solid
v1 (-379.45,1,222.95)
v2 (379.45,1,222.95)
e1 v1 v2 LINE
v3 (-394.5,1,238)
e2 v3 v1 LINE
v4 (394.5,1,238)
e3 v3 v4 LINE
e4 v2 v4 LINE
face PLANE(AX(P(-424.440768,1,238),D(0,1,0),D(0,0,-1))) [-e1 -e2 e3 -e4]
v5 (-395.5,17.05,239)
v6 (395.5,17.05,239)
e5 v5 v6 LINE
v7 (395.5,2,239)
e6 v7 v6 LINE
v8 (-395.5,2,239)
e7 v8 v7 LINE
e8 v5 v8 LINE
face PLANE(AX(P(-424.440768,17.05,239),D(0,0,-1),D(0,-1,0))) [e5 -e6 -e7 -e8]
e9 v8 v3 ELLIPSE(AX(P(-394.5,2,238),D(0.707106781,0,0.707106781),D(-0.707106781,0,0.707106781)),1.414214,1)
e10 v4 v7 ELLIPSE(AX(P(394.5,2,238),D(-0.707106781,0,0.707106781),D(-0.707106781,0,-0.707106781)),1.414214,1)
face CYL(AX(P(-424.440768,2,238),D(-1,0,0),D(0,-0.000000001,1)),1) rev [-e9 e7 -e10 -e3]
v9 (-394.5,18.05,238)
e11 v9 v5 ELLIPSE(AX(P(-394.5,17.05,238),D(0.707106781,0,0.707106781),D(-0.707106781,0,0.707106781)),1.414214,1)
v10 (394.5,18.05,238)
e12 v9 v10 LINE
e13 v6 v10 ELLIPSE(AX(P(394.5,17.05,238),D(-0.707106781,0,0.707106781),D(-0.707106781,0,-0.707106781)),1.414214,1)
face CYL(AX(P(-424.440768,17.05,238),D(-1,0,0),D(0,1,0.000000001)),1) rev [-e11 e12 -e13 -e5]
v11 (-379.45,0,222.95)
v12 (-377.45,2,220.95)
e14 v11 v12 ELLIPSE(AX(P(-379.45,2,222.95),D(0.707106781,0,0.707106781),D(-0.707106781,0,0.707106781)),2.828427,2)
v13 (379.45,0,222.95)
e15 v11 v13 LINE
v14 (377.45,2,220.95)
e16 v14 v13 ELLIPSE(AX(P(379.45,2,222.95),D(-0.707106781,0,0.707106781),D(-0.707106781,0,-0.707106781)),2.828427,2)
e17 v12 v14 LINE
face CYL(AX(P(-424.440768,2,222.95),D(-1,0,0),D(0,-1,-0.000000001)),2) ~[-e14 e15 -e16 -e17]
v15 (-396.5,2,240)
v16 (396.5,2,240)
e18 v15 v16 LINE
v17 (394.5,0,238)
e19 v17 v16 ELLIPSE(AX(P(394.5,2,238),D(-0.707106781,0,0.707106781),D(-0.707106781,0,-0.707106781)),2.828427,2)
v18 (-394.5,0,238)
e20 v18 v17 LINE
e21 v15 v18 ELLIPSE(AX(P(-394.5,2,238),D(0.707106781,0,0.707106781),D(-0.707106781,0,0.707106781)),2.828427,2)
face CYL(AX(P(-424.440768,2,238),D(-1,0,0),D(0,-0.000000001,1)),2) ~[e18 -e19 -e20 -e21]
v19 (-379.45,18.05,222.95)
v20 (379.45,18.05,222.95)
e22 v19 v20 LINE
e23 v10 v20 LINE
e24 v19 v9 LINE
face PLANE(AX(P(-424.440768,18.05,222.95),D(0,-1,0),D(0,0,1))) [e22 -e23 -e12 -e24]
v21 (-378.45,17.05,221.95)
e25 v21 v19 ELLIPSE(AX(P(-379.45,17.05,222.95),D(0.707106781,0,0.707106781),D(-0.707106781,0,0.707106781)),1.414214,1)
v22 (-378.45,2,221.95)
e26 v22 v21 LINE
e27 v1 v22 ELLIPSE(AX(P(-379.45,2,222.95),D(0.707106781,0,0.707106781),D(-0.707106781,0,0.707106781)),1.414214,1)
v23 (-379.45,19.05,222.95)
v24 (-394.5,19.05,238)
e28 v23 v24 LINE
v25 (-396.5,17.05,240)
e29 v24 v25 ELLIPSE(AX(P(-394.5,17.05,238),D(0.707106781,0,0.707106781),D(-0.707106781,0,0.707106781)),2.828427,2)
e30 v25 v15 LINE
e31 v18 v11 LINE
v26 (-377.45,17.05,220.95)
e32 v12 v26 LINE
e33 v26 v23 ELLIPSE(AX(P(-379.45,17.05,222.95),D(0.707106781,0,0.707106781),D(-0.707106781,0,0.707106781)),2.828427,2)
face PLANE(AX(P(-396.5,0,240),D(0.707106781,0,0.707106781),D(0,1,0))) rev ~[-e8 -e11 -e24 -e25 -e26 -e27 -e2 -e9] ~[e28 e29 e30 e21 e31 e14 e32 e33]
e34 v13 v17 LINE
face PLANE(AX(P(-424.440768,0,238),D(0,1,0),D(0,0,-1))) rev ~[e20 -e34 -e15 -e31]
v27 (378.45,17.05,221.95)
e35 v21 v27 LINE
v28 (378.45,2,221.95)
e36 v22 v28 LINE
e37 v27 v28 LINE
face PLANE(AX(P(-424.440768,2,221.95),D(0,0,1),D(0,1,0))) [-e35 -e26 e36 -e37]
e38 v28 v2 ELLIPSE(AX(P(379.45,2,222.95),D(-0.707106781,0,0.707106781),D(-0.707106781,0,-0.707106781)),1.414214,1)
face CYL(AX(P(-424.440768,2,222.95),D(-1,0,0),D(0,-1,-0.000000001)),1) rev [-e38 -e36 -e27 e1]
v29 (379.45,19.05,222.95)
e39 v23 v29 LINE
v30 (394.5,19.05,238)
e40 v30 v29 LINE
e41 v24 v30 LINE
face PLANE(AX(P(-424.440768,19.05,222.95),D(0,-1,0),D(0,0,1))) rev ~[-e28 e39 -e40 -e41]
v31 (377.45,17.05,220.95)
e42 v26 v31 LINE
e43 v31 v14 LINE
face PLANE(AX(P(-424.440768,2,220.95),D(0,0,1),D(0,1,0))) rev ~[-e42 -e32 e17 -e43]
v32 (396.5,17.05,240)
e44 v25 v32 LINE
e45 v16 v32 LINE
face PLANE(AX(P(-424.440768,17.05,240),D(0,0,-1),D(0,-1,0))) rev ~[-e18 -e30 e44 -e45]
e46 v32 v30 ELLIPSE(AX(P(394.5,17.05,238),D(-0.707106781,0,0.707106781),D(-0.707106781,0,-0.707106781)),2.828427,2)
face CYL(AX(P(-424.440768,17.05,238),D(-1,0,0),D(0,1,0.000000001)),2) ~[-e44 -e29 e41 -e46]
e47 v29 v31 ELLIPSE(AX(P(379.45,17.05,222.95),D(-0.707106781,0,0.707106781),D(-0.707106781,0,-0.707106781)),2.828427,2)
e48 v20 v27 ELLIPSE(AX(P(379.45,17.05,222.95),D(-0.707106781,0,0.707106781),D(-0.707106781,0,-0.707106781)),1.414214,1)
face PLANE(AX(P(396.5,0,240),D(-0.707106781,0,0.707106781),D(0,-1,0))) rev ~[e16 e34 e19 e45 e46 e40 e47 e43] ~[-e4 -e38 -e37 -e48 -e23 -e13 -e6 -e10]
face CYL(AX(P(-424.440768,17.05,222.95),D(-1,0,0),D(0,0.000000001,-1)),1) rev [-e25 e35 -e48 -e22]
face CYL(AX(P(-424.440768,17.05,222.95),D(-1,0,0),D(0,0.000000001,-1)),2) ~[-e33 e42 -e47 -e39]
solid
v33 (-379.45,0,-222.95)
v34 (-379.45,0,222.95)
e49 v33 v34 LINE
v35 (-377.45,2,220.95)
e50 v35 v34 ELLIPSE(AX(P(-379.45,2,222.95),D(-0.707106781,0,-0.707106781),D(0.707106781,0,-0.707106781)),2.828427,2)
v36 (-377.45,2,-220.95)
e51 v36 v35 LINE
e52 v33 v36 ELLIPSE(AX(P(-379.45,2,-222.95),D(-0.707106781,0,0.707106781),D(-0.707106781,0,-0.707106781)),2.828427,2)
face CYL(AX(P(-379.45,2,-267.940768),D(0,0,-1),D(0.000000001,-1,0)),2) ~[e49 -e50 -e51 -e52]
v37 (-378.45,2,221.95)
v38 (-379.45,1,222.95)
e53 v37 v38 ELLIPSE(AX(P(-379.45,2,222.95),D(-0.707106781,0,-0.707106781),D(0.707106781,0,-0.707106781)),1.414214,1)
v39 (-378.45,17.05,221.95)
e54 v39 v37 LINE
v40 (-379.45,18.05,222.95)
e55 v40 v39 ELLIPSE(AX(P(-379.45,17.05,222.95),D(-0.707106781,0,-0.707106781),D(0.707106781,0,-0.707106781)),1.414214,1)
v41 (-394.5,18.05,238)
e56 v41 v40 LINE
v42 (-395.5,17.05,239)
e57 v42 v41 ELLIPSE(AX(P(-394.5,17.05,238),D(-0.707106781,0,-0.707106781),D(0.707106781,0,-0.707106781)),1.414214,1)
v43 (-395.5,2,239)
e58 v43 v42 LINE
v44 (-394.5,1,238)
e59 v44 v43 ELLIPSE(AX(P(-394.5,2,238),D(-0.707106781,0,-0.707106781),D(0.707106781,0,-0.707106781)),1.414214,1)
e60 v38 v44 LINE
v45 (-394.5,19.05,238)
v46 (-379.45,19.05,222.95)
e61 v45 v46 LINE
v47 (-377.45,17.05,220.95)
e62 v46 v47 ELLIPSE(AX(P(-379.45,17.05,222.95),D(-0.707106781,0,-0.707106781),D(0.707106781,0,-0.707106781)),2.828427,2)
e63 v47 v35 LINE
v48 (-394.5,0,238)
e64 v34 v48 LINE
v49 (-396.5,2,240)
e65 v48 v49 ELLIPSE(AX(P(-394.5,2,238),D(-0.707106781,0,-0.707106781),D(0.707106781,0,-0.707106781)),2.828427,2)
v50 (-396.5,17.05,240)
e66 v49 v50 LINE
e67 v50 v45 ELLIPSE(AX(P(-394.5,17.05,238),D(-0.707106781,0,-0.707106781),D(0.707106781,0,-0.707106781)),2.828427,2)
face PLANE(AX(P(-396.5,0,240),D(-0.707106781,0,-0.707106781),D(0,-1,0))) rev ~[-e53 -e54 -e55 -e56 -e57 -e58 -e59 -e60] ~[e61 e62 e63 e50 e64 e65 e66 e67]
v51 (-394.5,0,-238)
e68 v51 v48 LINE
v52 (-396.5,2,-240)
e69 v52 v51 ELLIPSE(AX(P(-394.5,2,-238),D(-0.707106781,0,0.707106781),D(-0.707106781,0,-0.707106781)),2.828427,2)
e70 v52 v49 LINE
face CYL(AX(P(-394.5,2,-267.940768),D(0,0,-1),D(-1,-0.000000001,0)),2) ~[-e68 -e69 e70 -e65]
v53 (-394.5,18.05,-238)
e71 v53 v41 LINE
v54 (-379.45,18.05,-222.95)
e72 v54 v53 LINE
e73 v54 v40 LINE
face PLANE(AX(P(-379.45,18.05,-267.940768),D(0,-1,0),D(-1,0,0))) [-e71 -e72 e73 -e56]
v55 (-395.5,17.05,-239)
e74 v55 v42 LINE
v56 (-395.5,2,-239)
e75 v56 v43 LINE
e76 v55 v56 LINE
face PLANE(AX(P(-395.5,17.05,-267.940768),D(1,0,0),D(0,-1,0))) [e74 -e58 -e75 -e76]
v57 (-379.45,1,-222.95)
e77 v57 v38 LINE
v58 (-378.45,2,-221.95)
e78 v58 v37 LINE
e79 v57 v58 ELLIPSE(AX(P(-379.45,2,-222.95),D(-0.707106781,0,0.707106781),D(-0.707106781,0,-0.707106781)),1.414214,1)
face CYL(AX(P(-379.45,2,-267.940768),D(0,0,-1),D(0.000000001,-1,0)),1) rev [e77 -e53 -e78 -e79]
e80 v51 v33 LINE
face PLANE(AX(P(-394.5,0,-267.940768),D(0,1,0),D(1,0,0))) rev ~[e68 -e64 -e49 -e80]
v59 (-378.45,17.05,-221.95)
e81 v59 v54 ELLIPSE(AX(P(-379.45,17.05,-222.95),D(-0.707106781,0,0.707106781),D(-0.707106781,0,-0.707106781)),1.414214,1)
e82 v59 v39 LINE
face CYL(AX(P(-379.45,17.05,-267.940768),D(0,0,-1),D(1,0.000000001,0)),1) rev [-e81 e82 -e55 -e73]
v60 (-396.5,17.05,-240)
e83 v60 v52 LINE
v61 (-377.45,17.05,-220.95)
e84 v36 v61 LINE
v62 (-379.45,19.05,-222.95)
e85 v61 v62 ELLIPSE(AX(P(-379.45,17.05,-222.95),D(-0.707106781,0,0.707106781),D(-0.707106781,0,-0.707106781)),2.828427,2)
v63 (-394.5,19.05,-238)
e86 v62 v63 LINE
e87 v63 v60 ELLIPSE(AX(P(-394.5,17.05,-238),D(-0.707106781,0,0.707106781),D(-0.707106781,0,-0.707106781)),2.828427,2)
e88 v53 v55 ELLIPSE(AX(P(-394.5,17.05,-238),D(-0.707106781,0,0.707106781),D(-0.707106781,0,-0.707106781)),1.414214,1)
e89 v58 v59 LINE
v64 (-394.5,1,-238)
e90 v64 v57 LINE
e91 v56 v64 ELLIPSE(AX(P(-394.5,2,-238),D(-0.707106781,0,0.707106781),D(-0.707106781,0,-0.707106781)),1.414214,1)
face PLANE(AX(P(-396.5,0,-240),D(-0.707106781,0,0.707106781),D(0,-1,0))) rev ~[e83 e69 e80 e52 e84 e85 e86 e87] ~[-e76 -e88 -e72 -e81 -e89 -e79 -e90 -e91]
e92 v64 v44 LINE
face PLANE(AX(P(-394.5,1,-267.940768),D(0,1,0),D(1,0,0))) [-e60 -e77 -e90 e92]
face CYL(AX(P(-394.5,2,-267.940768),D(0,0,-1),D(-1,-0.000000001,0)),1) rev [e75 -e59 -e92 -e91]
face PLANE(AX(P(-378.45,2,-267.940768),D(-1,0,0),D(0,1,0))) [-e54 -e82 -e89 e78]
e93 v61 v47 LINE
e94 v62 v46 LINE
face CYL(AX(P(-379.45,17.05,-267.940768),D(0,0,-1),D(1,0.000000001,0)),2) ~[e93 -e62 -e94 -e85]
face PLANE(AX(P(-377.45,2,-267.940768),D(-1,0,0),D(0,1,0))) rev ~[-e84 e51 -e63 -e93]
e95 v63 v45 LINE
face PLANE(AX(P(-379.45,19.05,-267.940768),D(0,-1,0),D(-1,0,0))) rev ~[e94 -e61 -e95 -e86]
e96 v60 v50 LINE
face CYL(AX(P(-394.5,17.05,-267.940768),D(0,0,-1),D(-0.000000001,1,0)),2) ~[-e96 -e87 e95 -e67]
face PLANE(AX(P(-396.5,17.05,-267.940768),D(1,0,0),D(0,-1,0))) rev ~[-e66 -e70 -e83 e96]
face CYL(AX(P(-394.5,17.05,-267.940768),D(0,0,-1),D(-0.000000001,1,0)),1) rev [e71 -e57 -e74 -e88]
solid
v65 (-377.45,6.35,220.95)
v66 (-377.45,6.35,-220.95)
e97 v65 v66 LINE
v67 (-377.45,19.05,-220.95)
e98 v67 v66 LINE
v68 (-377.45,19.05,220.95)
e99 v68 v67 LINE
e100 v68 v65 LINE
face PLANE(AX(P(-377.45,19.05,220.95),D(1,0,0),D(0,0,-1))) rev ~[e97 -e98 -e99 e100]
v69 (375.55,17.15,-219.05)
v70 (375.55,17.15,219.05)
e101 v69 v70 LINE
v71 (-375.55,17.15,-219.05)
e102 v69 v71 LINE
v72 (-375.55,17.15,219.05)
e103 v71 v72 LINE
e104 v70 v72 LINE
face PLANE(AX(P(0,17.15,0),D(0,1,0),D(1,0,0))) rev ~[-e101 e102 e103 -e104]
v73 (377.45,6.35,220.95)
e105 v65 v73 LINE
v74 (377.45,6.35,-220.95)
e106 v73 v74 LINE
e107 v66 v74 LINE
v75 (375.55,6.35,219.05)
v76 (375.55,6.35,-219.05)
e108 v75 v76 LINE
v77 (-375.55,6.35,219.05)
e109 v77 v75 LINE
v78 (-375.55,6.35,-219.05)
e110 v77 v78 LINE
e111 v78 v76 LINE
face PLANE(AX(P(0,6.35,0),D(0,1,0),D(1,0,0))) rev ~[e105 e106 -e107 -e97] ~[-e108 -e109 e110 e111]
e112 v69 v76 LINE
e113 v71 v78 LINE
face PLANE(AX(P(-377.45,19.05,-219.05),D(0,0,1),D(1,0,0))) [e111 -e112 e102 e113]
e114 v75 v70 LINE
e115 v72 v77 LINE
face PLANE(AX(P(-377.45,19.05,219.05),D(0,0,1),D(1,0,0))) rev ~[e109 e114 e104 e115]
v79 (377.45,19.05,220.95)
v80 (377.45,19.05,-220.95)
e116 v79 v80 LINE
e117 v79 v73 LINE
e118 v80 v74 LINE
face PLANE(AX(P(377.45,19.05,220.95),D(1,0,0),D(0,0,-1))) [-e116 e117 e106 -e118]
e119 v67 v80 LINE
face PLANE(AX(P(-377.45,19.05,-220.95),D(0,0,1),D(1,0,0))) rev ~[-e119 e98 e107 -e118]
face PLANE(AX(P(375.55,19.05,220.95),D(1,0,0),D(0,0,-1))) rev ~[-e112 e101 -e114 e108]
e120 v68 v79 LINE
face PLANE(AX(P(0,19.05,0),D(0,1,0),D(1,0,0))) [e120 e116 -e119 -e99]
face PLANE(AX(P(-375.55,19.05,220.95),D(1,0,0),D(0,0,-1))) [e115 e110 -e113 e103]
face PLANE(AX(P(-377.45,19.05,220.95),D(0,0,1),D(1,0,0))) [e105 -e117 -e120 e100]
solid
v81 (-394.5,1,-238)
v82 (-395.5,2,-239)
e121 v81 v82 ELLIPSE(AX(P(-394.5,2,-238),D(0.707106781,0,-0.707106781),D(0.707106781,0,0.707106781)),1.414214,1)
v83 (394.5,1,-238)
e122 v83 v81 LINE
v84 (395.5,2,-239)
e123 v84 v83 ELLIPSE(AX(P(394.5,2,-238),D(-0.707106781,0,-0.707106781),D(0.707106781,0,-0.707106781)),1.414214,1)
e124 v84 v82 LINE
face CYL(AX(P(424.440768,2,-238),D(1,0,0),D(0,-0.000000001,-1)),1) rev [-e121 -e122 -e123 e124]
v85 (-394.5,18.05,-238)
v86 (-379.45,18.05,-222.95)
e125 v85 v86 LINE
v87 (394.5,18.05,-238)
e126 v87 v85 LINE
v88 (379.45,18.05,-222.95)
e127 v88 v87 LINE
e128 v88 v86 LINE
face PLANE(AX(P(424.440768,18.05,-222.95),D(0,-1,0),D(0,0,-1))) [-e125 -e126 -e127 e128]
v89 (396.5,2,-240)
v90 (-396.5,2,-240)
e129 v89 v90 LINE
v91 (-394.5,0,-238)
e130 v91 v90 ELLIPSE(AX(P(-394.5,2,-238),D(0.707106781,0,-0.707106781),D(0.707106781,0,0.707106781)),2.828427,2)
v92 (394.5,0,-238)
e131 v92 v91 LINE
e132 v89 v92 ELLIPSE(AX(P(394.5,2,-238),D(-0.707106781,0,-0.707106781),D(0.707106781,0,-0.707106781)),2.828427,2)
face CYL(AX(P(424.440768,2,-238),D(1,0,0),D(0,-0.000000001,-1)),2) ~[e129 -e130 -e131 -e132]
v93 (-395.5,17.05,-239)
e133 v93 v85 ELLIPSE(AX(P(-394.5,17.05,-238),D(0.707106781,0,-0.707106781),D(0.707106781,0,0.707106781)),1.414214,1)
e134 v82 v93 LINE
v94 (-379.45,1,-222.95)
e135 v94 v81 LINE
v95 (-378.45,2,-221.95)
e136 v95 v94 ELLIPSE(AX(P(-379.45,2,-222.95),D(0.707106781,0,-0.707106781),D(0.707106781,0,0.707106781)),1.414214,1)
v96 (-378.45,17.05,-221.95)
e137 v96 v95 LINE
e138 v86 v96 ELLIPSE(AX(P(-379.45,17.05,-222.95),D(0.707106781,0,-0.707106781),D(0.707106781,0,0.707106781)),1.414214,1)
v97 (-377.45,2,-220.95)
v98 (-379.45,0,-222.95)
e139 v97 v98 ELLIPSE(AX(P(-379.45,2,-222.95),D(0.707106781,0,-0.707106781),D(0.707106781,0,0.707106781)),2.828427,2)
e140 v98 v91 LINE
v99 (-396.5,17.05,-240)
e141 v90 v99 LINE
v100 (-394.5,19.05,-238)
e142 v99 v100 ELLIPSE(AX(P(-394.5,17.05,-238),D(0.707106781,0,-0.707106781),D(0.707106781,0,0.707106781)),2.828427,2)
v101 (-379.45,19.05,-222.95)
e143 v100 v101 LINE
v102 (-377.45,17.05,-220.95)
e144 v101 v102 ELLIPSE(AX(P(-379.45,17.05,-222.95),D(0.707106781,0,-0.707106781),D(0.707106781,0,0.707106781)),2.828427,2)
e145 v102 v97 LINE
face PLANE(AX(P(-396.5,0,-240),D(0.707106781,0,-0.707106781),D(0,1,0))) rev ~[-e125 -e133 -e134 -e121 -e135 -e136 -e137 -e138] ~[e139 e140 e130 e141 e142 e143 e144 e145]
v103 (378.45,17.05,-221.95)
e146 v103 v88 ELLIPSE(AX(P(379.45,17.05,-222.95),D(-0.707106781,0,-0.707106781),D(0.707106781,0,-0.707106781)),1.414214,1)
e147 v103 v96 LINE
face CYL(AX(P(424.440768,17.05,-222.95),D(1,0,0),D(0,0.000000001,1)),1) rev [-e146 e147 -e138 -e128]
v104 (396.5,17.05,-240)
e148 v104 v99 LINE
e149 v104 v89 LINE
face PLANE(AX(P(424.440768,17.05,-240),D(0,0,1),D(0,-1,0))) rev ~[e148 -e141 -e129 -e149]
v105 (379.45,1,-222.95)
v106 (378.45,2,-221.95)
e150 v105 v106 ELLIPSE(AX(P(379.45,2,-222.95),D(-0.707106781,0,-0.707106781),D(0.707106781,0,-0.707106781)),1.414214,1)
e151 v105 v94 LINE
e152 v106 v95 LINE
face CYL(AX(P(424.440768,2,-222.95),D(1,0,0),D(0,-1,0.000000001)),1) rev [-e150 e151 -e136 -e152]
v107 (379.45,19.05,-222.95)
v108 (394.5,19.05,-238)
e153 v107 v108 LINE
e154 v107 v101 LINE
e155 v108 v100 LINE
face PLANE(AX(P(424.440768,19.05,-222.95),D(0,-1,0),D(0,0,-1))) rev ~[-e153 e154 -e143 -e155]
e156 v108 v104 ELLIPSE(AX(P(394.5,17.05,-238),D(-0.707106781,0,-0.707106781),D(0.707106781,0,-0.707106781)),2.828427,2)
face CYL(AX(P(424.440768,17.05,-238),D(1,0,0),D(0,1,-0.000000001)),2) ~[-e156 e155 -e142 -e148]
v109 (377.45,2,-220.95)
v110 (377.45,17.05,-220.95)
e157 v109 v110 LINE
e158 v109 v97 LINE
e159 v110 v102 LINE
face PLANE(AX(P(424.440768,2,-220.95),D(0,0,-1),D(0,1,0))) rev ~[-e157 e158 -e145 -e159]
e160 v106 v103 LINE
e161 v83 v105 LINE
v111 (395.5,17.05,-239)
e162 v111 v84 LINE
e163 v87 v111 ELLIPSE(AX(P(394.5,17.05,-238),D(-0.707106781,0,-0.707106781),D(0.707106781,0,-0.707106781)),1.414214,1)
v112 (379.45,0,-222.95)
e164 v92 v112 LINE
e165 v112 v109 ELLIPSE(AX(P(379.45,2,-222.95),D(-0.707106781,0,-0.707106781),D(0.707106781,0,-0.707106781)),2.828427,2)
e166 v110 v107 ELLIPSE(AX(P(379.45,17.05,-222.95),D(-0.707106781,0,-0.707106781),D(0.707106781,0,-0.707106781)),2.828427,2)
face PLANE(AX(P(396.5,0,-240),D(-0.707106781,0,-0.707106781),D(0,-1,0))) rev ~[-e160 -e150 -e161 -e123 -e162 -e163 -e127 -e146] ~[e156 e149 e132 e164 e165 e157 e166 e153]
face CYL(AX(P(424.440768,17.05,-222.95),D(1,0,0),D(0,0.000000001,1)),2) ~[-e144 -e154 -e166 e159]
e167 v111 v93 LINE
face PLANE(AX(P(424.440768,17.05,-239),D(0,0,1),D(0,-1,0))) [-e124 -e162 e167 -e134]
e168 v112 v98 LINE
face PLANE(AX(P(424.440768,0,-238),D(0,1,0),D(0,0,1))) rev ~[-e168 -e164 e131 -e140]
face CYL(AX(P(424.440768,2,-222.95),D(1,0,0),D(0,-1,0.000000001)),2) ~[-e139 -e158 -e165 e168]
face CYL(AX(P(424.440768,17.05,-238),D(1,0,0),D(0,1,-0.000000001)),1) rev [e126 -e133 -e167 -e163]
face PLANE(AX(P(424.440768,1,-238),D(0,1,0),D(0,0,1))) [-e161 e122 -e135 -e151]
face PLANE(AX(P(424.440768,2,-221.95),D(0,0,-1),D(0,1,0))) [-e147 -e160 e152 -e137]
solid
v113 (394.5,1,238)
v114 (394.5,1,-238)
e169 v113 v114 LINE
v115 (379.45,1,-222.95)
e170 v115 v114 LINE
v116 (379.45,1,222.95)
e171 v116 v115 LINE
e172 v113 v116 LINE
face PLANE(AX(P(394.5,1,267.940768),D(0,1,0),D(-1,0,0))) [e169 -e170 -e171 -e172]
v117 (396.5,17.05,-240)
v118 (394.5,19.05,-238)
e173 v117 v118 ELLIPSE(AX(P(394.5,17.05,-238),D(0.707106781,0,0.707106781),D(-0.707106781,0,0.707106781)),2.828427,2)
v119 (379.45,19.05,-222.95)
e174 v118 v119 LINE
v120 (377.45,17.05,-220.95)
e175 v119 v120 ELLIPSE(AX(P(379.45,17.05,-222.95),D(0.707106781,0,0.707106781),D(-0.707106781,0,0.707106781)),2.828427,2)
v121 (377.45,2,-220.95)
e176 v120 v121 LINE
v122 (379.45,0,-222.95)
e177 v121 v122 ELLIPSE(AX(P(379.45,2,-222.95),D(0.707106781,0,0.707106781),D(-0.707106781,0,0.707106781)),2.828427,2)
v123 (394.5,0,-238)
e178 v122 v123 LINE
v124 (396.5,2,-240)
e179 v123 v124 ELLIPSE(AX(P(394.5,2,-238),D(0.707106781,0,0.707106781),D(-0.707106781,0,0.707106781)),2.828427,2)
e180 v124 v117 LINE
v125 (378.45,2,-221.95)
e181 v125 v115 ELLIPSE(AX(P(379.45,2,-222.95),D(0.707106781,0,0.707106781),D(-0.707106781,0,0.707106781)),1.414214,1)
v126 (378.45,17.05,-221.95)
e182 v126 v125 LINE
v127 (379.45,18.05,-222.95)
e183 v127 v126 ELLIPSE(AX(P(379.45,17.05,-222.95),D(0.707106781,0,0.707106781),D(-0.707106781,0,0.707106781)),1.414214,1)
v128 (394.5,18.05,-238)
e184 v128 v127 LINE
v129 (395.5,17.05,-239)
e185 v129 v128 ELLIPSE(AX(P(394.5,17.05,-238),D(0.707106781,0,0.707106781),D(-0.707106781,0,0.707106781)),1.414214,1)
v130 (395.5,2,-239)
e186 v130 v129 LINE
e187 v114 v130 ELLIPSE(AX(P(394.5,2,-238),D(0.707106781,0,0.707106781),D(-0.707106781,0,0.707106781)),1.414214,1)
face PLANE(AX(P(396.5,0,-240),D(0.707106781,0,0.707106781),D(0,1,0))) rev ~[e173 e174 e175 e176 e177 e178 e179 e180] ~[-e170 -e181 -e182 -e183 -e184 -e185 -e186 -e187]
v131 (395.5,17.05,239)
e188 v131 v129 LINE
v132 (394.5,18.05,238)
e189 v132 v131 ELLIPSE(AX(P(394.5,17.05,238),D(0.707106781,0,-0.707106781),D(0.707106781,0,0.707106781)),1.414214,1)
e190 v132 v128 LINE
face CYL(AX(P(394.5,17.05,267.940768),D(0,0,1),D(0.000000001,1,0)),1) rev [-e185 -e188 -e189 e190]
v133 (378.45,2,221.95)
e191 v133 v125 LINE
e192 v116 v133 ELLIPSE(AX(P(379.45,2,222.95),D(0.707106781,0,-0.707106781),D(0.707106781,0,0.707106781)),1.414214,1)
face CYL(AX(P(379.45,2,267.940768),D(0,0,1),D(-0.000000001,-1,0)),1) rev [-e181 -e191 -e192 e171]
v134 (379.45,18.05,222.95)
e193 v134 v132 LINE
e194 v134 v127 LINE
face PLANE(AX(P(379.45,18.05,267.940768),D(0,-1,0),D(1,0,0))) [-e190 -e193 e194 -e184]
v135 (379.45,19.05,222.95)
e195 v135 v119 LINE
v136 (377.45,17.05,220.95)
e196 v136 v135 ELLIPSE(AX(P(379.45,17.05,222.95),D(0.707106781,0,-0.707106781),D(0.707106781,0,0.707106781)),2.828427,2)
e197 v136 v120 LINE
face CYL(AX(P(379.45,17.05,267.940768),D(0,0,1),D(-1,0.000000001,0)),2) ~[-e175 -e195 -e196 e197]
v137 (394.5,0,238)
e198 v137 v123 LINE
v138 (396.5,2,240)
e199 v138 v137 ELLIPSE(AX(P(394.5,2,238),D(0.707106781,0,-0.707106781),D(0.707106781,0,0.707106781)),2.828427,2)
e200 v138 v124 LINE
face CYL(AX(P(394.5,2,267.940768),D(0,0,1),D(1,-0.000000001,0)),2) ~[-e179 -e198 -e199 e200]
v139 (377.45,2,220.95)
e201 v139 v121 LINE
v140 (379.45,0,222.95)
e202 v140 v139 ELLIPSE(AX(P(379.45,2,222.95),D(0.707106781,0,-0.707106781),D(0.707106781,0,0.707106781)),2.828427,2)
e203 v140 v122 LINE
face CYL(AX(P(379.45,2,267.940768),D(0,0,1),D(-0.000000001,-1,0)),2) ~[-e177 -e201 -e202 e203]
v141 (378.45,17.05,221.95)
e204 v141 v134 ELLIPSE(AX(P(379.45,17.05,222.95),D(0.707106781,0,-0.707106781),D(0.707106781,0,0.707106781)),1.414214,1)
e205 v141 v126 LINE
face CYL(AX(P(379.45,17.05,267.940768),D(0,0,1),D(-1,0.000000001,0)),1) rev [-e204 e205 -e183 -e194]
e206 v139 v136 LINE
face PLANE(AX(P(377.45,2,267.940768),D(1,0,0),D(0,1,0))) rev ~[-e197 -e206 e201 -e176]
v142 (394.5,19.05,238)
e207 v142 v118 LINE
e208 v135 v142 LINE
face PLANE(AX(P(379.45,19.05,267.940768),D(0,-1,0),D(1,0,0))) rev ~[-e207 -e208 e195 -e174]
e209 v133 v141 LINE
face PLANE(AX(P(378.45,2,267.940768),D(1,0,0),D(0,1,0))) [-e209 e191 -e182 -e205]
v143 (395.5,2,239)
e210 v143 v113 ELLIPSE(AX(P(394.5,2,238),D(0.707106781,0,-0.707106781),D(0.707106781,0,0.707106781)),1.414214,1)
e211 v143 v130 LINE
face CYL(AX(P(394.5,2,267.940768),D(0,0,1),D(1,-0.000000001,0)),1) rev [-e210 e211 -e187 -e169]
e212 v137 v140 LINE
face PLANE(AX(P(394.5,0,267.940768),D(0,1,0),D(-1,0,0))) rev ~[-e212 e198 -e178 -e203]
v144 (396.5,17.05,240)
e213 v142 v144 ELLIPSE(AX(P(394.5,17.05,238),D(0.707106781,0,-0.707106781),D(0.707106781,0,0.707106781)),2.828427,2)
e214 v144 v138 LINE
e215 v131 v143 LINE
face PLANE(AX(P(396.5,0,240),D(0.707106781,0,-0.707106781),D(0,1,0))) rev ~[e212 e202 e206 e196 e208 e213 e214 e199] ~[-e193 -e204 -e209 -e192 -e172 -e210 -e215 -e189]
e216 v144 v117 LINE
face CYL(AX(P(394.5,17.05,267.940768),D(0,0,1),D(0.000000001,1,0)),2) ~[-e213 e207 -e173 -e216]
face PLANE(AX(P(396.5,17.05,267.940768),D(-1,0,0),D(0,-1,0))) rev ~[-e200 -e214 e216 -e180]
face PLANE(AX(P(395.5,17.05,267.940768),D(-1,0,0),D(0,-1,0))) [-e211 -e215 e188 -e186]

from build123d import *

# Parameters (mm, degrees)
TUBO_CUADRADO_2_X_2_X_0_25_1_DEPTH      = 507.940768363
TUBO_CUADRADO_2_X_2_X_0_25_1_DEPTH_BACK = 27.940768363
TUBO_CUADRADO_2_X_2_X_0_25_1_2_DEPTH    = 848.881536726
TUBO_CUADRADO_2_X_2_X_0_25_1_3_DEPTH    = 535.881536726
TUBO_CUADRADO_2_X_2_X_0_25_1_4_DEPTH    = 848.881536726
CROQUIS2_W                              = 754.9
CROQUIS2_H                              = 441.9
SALIENTE_EXTRUIR1_DEPTH                 = 12.7
VACIADO1_T                              = -1.9


with BuildPart() as part:
    # Sketch1 → Tubo cuadrado 2 X 2 X 0.25(1) (new, two sides: drawn at the far end of the back side and taken through both)
    with BuildSketch(Plane(origin=(-386.975, 9.525, -240), x_dir=(1, 0, 0), z_dir=(0, 0, 1)).offset(-TUBO_CUADRADO_2_X_2_X_0_25_1_DEPTH_BACK)):
        with BuildLine():
            Line((-7.525, -9.525), (7.525, -9.525))
            ThreePointArc((7.525, -9.525), (8.939213562, -8.939213562), (9.525, -7.525))
            Line((9.525, -7.525), (9.525, 7.525))
            ThreePointArc((9.525, 7.525), (8.939213562, 8.939213562), (7.525, 9.525))
            Line((7.525, 9.525), (-7.525, 9.525))
            ThreePointArc((-7.525, 9.525), (-8.939213562, 8.939213562), (-9.525, 7.525))
            Line((-9.525, 7.525), (-9.525, -7.525))
            ThreePointArc((-9.525, -7.525), (-8.939213562, -8.939213562), (-7.525, -9.525))
        make_face()
        with BuildLine():
            Line((-7.525, -8.525), (7.525, -8.525))
            ThreePointArc((7.525, -8.525), (8.232106781, -8.232106781), (8.525, -7.525))
            Line((8.525, -7.525), (8.525, 7.525))
            ThreePointArc((8.525, 7.525), (8.232106781, 8.232106781), (7.525, 8.525))
            Line((7.525, 8.525), (-7.525, 8.525))
            ThreePointArc((-7.525, 8.525), (-8.232106781, 8.232106781), (-8.525, 7.525))
            Line((-8.525, 7.525), (-8.525, -7.525))
            ThreePointArc((-8.525, -7.525), (-8.232106781, -8.232106781), (-7.525, -8.525))
        make_face(mode=Mode.SUBTRACT)
    extrude(amount=TUBO_CUADRADO_2_X_2_X_0_25_1_DEPTH + TUBO_CUADRADO_2_X_2_X_0_25_1_DEPTH_BACK)

    # Tubo cuadrado 2 X 2 X 0.25(1) mitre 1
    split(bisect_by=Plane(origin=(-396.5, 0, -240), x_dir=(0, -1, 0), z_dir=(-0.707106781, 0, 0.707106781)), keep=Keep.TOP)

    # Tubo cuadrado 2 X 2 X 0.25(1) mitre 2
    split(bisect_by=Plane(origin=(-396.5, 0, 240), x_dir=(0, -1, 0), z_dir=(-0.707106781, 0, -0.707106781)), keep=Keep.TOP)


with BuildPart() as body_2:
    # Sketch1 on segment 2 (carried to segment 2) → Tubo cuadrado 2 X 2 X 0.25_1 2 (new body)
    with BuildSketch(Plane(origin=(-424.440768363, 9.525, 230.475), x_dir=(0, 0, -1), z_dir=(1, 0, 0))):
        with BuildLine():
            Line((-7.525, -9.525), (7.525, -9.525))
            ThreePointArc((7.525, -9.525), (8.939213562, -8.939213562), (9.525, -7.525))
            Line((9.525, -7.525), (9.525, 7.525))
            ThreePointArc((9.525, 7.525), (8.939213562, 8.939213562), (7.525, 9.525))
            Line((7.525, 9.525), (-7.525, 9.525))
            ThreePointArc((-7.525, 9.525), (-8.939213562, 8.939213562), (-9.525, 7.525))
            Line((-9.525, 7.525), (-9.525, -7.525))
            ThreePointArc((-9.525, -7.525), (-8.939213562, -8.939213562), (-7.525, -9.525))
        make_face()
        with BuildLine():
            Line((-7.525, -8.525), (7.525, -8.525))
            ThreePointArc((7.525, -8.525), (8.232106781, -8.232106781), (8.525, -7.525))
            Line((8.525, -7.525), (8.525, 7.525))
            ThreePointArc((8.525, 7.525), (8.232106781, 8.232106781), (7.525, 8.525))
            Line((7.525, 8.525), (-7.525, 8.525))
            ThreePointArc((-7.525, 8.525), (-8.232106781, 8.232106781), (-8.525, 7.525))
            Line((-8.525, 7.525), (-8.525, -7.525))
            ThreePointArc((-8.525, -7.525), (-8.232106781, -8.232106781), (-7.525, -8.525))
        make_face(mode=Mode.SUBTRACT)
    extrude(amount=TUBO_CUADRADO_2_X_2_X_0_25_1_2_DEPTH)

    # Tubo cuadrado 2 X 2 X 0.25_1 2 mitre 1
    split(bisect_by=Plane(origin=(-396.5, 0, 240), x_dir=(0, 1, 0), z_dir=(0.707106781, 0, 0.707106781)), keep=Keep.TOP)

    # Tubo cuadrado 2 X 2 X 0.25_1 2 mitre 2
    split(bisect_by=Plane(origin=(396.5, 0, 240), x_dir=(0, -1, 0), z_dir=(-0.707106781, 0, 0.707106781)), keep=Keep.TOP)


with BuildPart() as body_3:
    # Sketch1 on segment 3 (carried to segment 3) → Tubo cuadrado 2 X 2 X 0.25_1 3 (new body)
    with BuildSketch(Plane(origin=(386.975, 9.525, 267.940768363), x_dir=(-1, 0, 0), z_dir=(0, 0, -1))):
        with BuildLine():
            Line((-7.525, -9.525), (7.525, -9.525))
            ThreePointArc((7.525, -9.525), (8.939213562, -8.939213562), (9.525, -7.525))
            Line((9.525, -7.525), (9.525, 7.525))
            ThreePointArc((9.525, 7.525), (8.939213562, 8.939213562), (7.525, 9.525))
            Line((7.525, 9.525), (-7.525, 9.525))
            ThreePointArc((-7.525, 9.525), (-8.939213562, 8.939213562), (-9.525, 7.525))
            Line((-9.525, 7.525), (-9.525, -7.525))
            ThreePointArc((-9.525, -7.525), (-8.939213562, -8.939213562), (-7.525, -9.525))
        make_face()
        with BuildLine():
            Line((-7.525, -8.525), (7.525, -8.525))
            ThreePointArc((7.525, -8.525), (8.232106781, -8.232106781), (8.525, -7.525))
            Line((8.525, -7.525), (8.525, 7.525))
            ThreePointArc((8.525, 7.525), (8.232106781, 8.232106781), (7.525, 8.525))
            Line((7.525, 8.525), (-7.525, 8.525))
            ThreePointArc((-7.525, 8.525), (-8.232106781, 8.232106781), (-8.525, 7.525))
            Line((-8.525, 7.525), (-8.525, -7.525))
            ThreePointArc((-8.525, -7.525), (-8.232106781, -8.232106781), (-7.525, -8.525))
        make_face(mode=Mode.SUBTRACT)
    extrude(amount=TUBO_CUADRADO_2_X_2_X_0_25_1_3_DEPTH)

    # Tubo cuadrado 2 X 2 X 0.25_1 3 mitre 1
    split(bisect_by=Plane(origin=(396.5, 0, -240), x_dir=(0, 1, 0), z_dir=(0.707106781, 0, 0.707106781)), keep=Keep.TOP)

    # Tubo cuadrado 2 X 2 X 0.25_1 3 mitre 2
    split(bisect_by=Plane(origin=(396.5, 0, 240), x_dir=(0, 1, 0), z_dir=(0.707106781, 0, -0.707106781)), keep=Keep.TOP)


with BuildPart() as body_4:
    # Sketch1 on segment 4 (carried to segment 4) → Tubo cuadrado 2 X 2 X 0.25_1 4 (new body)
    with BuildSketch(Plane(origin=(424.440768363, 9.525, -230.475), x_dir=(0, 0, 1), z_dir=(-1, 0, 0))):
        with BuildLine():
            Line((-7.525, -9.525), (7.525, -9.525))
            ThreePointArc((7.525, -9.525), (8.939213562, -8.939213562), (9.525, -7.525))
            Line((9.525, -7.525), (9.525, 7.525))
            ThreePointArc((9.525, 7.525), (8.939213562, 8.939213562), (7.525, 9.525))
            Line((7.525, 9.525), (-7.525, 9.525))
            ThreePointArc((-7.525, 9.525), (-8.939213562, 8.939213562), (-9.525, 7.525))
            Line((-9.525, 7.525), (-9.525, -7.525))
            ThreePointArc((-9.525, -7.525), (-8.939213562, -8.939213562), (-7.525, -9.525))
        make_face()
        with BuildLine():
            Line((-7.525, -8.525), (7.525, -8.525))
            ThreePointArc((7.525, -8.525), (8.232106781, -8.232106781), (8.525, -7.525))
            Line((8.525, -7.525), (8.525, 7.525))
            ThreePointArc((8.525, 7.525), (8.232106781, 8.232106781), (7.525, 8.525))
            Line((7.525, 8.525), (-7.525, 8.525))
            ThreePointArc((-7.525, 8.525), (-8.232106781, 8.232106781), (-8.525, 7.525))
            Line((-8.525, 7.525), (-8.525, -7.525))
            ThreePointArc((-8.525, -7.525), (-8.232106781, -8.232106781), (-7.525, -8.525))
        make_face(mode=Mode.SUBTRACT)
    extrude(amount=TUBO_CUADRADO_2_X_2_X_0_25_1_4_DEPTH)

    # Tubo cuadrado 2 X 2 X 0.25_1 4 mitre 1
    split(bisect_by=Plane(origin=(-396.5, 0, -240), x_dir=(0, 1, 0), z_dir=(0.707106781, 0, -0.707106781)), keep=Keep.TOP)

    # Tubo cuadrado 2 X 2 X 0.25_1 4 mitre 2
    split(bisect_by=Plane(origin=(396.5, 0, -240), x_dir=(0, -1, 0), z_dir=(-0.707106781, 0, -0.707106781)), keep=Keep.TOP)


with BuildPart() as body_5:
    # Croquis2 → Saliente-Extruir1 (new body)
    with BuildSketch(Plane(origin=(0, 19.05, 0), x_dir=(1, 0, 0), z_dir=(0, 1, 0))):
        Rectangle(CROQUIS2_W, CROQUIS2_H)
    extrude(amount=-SALIENTE_EXTRUIR1_DEPTH)

    # Vaciado1
    vaciado1_openings = [body_5.faces().sort_by_distance(p)[0] for p in [
        (0, 6.35, 0),
    ]]
    offset(amount=VACIADO1_T, openings=vaciado1_openings, kind=Kind.INTERSECTION)


solid = Compound([part.part, body_2.part, body_3.part, body_4.part, body_5.part])
